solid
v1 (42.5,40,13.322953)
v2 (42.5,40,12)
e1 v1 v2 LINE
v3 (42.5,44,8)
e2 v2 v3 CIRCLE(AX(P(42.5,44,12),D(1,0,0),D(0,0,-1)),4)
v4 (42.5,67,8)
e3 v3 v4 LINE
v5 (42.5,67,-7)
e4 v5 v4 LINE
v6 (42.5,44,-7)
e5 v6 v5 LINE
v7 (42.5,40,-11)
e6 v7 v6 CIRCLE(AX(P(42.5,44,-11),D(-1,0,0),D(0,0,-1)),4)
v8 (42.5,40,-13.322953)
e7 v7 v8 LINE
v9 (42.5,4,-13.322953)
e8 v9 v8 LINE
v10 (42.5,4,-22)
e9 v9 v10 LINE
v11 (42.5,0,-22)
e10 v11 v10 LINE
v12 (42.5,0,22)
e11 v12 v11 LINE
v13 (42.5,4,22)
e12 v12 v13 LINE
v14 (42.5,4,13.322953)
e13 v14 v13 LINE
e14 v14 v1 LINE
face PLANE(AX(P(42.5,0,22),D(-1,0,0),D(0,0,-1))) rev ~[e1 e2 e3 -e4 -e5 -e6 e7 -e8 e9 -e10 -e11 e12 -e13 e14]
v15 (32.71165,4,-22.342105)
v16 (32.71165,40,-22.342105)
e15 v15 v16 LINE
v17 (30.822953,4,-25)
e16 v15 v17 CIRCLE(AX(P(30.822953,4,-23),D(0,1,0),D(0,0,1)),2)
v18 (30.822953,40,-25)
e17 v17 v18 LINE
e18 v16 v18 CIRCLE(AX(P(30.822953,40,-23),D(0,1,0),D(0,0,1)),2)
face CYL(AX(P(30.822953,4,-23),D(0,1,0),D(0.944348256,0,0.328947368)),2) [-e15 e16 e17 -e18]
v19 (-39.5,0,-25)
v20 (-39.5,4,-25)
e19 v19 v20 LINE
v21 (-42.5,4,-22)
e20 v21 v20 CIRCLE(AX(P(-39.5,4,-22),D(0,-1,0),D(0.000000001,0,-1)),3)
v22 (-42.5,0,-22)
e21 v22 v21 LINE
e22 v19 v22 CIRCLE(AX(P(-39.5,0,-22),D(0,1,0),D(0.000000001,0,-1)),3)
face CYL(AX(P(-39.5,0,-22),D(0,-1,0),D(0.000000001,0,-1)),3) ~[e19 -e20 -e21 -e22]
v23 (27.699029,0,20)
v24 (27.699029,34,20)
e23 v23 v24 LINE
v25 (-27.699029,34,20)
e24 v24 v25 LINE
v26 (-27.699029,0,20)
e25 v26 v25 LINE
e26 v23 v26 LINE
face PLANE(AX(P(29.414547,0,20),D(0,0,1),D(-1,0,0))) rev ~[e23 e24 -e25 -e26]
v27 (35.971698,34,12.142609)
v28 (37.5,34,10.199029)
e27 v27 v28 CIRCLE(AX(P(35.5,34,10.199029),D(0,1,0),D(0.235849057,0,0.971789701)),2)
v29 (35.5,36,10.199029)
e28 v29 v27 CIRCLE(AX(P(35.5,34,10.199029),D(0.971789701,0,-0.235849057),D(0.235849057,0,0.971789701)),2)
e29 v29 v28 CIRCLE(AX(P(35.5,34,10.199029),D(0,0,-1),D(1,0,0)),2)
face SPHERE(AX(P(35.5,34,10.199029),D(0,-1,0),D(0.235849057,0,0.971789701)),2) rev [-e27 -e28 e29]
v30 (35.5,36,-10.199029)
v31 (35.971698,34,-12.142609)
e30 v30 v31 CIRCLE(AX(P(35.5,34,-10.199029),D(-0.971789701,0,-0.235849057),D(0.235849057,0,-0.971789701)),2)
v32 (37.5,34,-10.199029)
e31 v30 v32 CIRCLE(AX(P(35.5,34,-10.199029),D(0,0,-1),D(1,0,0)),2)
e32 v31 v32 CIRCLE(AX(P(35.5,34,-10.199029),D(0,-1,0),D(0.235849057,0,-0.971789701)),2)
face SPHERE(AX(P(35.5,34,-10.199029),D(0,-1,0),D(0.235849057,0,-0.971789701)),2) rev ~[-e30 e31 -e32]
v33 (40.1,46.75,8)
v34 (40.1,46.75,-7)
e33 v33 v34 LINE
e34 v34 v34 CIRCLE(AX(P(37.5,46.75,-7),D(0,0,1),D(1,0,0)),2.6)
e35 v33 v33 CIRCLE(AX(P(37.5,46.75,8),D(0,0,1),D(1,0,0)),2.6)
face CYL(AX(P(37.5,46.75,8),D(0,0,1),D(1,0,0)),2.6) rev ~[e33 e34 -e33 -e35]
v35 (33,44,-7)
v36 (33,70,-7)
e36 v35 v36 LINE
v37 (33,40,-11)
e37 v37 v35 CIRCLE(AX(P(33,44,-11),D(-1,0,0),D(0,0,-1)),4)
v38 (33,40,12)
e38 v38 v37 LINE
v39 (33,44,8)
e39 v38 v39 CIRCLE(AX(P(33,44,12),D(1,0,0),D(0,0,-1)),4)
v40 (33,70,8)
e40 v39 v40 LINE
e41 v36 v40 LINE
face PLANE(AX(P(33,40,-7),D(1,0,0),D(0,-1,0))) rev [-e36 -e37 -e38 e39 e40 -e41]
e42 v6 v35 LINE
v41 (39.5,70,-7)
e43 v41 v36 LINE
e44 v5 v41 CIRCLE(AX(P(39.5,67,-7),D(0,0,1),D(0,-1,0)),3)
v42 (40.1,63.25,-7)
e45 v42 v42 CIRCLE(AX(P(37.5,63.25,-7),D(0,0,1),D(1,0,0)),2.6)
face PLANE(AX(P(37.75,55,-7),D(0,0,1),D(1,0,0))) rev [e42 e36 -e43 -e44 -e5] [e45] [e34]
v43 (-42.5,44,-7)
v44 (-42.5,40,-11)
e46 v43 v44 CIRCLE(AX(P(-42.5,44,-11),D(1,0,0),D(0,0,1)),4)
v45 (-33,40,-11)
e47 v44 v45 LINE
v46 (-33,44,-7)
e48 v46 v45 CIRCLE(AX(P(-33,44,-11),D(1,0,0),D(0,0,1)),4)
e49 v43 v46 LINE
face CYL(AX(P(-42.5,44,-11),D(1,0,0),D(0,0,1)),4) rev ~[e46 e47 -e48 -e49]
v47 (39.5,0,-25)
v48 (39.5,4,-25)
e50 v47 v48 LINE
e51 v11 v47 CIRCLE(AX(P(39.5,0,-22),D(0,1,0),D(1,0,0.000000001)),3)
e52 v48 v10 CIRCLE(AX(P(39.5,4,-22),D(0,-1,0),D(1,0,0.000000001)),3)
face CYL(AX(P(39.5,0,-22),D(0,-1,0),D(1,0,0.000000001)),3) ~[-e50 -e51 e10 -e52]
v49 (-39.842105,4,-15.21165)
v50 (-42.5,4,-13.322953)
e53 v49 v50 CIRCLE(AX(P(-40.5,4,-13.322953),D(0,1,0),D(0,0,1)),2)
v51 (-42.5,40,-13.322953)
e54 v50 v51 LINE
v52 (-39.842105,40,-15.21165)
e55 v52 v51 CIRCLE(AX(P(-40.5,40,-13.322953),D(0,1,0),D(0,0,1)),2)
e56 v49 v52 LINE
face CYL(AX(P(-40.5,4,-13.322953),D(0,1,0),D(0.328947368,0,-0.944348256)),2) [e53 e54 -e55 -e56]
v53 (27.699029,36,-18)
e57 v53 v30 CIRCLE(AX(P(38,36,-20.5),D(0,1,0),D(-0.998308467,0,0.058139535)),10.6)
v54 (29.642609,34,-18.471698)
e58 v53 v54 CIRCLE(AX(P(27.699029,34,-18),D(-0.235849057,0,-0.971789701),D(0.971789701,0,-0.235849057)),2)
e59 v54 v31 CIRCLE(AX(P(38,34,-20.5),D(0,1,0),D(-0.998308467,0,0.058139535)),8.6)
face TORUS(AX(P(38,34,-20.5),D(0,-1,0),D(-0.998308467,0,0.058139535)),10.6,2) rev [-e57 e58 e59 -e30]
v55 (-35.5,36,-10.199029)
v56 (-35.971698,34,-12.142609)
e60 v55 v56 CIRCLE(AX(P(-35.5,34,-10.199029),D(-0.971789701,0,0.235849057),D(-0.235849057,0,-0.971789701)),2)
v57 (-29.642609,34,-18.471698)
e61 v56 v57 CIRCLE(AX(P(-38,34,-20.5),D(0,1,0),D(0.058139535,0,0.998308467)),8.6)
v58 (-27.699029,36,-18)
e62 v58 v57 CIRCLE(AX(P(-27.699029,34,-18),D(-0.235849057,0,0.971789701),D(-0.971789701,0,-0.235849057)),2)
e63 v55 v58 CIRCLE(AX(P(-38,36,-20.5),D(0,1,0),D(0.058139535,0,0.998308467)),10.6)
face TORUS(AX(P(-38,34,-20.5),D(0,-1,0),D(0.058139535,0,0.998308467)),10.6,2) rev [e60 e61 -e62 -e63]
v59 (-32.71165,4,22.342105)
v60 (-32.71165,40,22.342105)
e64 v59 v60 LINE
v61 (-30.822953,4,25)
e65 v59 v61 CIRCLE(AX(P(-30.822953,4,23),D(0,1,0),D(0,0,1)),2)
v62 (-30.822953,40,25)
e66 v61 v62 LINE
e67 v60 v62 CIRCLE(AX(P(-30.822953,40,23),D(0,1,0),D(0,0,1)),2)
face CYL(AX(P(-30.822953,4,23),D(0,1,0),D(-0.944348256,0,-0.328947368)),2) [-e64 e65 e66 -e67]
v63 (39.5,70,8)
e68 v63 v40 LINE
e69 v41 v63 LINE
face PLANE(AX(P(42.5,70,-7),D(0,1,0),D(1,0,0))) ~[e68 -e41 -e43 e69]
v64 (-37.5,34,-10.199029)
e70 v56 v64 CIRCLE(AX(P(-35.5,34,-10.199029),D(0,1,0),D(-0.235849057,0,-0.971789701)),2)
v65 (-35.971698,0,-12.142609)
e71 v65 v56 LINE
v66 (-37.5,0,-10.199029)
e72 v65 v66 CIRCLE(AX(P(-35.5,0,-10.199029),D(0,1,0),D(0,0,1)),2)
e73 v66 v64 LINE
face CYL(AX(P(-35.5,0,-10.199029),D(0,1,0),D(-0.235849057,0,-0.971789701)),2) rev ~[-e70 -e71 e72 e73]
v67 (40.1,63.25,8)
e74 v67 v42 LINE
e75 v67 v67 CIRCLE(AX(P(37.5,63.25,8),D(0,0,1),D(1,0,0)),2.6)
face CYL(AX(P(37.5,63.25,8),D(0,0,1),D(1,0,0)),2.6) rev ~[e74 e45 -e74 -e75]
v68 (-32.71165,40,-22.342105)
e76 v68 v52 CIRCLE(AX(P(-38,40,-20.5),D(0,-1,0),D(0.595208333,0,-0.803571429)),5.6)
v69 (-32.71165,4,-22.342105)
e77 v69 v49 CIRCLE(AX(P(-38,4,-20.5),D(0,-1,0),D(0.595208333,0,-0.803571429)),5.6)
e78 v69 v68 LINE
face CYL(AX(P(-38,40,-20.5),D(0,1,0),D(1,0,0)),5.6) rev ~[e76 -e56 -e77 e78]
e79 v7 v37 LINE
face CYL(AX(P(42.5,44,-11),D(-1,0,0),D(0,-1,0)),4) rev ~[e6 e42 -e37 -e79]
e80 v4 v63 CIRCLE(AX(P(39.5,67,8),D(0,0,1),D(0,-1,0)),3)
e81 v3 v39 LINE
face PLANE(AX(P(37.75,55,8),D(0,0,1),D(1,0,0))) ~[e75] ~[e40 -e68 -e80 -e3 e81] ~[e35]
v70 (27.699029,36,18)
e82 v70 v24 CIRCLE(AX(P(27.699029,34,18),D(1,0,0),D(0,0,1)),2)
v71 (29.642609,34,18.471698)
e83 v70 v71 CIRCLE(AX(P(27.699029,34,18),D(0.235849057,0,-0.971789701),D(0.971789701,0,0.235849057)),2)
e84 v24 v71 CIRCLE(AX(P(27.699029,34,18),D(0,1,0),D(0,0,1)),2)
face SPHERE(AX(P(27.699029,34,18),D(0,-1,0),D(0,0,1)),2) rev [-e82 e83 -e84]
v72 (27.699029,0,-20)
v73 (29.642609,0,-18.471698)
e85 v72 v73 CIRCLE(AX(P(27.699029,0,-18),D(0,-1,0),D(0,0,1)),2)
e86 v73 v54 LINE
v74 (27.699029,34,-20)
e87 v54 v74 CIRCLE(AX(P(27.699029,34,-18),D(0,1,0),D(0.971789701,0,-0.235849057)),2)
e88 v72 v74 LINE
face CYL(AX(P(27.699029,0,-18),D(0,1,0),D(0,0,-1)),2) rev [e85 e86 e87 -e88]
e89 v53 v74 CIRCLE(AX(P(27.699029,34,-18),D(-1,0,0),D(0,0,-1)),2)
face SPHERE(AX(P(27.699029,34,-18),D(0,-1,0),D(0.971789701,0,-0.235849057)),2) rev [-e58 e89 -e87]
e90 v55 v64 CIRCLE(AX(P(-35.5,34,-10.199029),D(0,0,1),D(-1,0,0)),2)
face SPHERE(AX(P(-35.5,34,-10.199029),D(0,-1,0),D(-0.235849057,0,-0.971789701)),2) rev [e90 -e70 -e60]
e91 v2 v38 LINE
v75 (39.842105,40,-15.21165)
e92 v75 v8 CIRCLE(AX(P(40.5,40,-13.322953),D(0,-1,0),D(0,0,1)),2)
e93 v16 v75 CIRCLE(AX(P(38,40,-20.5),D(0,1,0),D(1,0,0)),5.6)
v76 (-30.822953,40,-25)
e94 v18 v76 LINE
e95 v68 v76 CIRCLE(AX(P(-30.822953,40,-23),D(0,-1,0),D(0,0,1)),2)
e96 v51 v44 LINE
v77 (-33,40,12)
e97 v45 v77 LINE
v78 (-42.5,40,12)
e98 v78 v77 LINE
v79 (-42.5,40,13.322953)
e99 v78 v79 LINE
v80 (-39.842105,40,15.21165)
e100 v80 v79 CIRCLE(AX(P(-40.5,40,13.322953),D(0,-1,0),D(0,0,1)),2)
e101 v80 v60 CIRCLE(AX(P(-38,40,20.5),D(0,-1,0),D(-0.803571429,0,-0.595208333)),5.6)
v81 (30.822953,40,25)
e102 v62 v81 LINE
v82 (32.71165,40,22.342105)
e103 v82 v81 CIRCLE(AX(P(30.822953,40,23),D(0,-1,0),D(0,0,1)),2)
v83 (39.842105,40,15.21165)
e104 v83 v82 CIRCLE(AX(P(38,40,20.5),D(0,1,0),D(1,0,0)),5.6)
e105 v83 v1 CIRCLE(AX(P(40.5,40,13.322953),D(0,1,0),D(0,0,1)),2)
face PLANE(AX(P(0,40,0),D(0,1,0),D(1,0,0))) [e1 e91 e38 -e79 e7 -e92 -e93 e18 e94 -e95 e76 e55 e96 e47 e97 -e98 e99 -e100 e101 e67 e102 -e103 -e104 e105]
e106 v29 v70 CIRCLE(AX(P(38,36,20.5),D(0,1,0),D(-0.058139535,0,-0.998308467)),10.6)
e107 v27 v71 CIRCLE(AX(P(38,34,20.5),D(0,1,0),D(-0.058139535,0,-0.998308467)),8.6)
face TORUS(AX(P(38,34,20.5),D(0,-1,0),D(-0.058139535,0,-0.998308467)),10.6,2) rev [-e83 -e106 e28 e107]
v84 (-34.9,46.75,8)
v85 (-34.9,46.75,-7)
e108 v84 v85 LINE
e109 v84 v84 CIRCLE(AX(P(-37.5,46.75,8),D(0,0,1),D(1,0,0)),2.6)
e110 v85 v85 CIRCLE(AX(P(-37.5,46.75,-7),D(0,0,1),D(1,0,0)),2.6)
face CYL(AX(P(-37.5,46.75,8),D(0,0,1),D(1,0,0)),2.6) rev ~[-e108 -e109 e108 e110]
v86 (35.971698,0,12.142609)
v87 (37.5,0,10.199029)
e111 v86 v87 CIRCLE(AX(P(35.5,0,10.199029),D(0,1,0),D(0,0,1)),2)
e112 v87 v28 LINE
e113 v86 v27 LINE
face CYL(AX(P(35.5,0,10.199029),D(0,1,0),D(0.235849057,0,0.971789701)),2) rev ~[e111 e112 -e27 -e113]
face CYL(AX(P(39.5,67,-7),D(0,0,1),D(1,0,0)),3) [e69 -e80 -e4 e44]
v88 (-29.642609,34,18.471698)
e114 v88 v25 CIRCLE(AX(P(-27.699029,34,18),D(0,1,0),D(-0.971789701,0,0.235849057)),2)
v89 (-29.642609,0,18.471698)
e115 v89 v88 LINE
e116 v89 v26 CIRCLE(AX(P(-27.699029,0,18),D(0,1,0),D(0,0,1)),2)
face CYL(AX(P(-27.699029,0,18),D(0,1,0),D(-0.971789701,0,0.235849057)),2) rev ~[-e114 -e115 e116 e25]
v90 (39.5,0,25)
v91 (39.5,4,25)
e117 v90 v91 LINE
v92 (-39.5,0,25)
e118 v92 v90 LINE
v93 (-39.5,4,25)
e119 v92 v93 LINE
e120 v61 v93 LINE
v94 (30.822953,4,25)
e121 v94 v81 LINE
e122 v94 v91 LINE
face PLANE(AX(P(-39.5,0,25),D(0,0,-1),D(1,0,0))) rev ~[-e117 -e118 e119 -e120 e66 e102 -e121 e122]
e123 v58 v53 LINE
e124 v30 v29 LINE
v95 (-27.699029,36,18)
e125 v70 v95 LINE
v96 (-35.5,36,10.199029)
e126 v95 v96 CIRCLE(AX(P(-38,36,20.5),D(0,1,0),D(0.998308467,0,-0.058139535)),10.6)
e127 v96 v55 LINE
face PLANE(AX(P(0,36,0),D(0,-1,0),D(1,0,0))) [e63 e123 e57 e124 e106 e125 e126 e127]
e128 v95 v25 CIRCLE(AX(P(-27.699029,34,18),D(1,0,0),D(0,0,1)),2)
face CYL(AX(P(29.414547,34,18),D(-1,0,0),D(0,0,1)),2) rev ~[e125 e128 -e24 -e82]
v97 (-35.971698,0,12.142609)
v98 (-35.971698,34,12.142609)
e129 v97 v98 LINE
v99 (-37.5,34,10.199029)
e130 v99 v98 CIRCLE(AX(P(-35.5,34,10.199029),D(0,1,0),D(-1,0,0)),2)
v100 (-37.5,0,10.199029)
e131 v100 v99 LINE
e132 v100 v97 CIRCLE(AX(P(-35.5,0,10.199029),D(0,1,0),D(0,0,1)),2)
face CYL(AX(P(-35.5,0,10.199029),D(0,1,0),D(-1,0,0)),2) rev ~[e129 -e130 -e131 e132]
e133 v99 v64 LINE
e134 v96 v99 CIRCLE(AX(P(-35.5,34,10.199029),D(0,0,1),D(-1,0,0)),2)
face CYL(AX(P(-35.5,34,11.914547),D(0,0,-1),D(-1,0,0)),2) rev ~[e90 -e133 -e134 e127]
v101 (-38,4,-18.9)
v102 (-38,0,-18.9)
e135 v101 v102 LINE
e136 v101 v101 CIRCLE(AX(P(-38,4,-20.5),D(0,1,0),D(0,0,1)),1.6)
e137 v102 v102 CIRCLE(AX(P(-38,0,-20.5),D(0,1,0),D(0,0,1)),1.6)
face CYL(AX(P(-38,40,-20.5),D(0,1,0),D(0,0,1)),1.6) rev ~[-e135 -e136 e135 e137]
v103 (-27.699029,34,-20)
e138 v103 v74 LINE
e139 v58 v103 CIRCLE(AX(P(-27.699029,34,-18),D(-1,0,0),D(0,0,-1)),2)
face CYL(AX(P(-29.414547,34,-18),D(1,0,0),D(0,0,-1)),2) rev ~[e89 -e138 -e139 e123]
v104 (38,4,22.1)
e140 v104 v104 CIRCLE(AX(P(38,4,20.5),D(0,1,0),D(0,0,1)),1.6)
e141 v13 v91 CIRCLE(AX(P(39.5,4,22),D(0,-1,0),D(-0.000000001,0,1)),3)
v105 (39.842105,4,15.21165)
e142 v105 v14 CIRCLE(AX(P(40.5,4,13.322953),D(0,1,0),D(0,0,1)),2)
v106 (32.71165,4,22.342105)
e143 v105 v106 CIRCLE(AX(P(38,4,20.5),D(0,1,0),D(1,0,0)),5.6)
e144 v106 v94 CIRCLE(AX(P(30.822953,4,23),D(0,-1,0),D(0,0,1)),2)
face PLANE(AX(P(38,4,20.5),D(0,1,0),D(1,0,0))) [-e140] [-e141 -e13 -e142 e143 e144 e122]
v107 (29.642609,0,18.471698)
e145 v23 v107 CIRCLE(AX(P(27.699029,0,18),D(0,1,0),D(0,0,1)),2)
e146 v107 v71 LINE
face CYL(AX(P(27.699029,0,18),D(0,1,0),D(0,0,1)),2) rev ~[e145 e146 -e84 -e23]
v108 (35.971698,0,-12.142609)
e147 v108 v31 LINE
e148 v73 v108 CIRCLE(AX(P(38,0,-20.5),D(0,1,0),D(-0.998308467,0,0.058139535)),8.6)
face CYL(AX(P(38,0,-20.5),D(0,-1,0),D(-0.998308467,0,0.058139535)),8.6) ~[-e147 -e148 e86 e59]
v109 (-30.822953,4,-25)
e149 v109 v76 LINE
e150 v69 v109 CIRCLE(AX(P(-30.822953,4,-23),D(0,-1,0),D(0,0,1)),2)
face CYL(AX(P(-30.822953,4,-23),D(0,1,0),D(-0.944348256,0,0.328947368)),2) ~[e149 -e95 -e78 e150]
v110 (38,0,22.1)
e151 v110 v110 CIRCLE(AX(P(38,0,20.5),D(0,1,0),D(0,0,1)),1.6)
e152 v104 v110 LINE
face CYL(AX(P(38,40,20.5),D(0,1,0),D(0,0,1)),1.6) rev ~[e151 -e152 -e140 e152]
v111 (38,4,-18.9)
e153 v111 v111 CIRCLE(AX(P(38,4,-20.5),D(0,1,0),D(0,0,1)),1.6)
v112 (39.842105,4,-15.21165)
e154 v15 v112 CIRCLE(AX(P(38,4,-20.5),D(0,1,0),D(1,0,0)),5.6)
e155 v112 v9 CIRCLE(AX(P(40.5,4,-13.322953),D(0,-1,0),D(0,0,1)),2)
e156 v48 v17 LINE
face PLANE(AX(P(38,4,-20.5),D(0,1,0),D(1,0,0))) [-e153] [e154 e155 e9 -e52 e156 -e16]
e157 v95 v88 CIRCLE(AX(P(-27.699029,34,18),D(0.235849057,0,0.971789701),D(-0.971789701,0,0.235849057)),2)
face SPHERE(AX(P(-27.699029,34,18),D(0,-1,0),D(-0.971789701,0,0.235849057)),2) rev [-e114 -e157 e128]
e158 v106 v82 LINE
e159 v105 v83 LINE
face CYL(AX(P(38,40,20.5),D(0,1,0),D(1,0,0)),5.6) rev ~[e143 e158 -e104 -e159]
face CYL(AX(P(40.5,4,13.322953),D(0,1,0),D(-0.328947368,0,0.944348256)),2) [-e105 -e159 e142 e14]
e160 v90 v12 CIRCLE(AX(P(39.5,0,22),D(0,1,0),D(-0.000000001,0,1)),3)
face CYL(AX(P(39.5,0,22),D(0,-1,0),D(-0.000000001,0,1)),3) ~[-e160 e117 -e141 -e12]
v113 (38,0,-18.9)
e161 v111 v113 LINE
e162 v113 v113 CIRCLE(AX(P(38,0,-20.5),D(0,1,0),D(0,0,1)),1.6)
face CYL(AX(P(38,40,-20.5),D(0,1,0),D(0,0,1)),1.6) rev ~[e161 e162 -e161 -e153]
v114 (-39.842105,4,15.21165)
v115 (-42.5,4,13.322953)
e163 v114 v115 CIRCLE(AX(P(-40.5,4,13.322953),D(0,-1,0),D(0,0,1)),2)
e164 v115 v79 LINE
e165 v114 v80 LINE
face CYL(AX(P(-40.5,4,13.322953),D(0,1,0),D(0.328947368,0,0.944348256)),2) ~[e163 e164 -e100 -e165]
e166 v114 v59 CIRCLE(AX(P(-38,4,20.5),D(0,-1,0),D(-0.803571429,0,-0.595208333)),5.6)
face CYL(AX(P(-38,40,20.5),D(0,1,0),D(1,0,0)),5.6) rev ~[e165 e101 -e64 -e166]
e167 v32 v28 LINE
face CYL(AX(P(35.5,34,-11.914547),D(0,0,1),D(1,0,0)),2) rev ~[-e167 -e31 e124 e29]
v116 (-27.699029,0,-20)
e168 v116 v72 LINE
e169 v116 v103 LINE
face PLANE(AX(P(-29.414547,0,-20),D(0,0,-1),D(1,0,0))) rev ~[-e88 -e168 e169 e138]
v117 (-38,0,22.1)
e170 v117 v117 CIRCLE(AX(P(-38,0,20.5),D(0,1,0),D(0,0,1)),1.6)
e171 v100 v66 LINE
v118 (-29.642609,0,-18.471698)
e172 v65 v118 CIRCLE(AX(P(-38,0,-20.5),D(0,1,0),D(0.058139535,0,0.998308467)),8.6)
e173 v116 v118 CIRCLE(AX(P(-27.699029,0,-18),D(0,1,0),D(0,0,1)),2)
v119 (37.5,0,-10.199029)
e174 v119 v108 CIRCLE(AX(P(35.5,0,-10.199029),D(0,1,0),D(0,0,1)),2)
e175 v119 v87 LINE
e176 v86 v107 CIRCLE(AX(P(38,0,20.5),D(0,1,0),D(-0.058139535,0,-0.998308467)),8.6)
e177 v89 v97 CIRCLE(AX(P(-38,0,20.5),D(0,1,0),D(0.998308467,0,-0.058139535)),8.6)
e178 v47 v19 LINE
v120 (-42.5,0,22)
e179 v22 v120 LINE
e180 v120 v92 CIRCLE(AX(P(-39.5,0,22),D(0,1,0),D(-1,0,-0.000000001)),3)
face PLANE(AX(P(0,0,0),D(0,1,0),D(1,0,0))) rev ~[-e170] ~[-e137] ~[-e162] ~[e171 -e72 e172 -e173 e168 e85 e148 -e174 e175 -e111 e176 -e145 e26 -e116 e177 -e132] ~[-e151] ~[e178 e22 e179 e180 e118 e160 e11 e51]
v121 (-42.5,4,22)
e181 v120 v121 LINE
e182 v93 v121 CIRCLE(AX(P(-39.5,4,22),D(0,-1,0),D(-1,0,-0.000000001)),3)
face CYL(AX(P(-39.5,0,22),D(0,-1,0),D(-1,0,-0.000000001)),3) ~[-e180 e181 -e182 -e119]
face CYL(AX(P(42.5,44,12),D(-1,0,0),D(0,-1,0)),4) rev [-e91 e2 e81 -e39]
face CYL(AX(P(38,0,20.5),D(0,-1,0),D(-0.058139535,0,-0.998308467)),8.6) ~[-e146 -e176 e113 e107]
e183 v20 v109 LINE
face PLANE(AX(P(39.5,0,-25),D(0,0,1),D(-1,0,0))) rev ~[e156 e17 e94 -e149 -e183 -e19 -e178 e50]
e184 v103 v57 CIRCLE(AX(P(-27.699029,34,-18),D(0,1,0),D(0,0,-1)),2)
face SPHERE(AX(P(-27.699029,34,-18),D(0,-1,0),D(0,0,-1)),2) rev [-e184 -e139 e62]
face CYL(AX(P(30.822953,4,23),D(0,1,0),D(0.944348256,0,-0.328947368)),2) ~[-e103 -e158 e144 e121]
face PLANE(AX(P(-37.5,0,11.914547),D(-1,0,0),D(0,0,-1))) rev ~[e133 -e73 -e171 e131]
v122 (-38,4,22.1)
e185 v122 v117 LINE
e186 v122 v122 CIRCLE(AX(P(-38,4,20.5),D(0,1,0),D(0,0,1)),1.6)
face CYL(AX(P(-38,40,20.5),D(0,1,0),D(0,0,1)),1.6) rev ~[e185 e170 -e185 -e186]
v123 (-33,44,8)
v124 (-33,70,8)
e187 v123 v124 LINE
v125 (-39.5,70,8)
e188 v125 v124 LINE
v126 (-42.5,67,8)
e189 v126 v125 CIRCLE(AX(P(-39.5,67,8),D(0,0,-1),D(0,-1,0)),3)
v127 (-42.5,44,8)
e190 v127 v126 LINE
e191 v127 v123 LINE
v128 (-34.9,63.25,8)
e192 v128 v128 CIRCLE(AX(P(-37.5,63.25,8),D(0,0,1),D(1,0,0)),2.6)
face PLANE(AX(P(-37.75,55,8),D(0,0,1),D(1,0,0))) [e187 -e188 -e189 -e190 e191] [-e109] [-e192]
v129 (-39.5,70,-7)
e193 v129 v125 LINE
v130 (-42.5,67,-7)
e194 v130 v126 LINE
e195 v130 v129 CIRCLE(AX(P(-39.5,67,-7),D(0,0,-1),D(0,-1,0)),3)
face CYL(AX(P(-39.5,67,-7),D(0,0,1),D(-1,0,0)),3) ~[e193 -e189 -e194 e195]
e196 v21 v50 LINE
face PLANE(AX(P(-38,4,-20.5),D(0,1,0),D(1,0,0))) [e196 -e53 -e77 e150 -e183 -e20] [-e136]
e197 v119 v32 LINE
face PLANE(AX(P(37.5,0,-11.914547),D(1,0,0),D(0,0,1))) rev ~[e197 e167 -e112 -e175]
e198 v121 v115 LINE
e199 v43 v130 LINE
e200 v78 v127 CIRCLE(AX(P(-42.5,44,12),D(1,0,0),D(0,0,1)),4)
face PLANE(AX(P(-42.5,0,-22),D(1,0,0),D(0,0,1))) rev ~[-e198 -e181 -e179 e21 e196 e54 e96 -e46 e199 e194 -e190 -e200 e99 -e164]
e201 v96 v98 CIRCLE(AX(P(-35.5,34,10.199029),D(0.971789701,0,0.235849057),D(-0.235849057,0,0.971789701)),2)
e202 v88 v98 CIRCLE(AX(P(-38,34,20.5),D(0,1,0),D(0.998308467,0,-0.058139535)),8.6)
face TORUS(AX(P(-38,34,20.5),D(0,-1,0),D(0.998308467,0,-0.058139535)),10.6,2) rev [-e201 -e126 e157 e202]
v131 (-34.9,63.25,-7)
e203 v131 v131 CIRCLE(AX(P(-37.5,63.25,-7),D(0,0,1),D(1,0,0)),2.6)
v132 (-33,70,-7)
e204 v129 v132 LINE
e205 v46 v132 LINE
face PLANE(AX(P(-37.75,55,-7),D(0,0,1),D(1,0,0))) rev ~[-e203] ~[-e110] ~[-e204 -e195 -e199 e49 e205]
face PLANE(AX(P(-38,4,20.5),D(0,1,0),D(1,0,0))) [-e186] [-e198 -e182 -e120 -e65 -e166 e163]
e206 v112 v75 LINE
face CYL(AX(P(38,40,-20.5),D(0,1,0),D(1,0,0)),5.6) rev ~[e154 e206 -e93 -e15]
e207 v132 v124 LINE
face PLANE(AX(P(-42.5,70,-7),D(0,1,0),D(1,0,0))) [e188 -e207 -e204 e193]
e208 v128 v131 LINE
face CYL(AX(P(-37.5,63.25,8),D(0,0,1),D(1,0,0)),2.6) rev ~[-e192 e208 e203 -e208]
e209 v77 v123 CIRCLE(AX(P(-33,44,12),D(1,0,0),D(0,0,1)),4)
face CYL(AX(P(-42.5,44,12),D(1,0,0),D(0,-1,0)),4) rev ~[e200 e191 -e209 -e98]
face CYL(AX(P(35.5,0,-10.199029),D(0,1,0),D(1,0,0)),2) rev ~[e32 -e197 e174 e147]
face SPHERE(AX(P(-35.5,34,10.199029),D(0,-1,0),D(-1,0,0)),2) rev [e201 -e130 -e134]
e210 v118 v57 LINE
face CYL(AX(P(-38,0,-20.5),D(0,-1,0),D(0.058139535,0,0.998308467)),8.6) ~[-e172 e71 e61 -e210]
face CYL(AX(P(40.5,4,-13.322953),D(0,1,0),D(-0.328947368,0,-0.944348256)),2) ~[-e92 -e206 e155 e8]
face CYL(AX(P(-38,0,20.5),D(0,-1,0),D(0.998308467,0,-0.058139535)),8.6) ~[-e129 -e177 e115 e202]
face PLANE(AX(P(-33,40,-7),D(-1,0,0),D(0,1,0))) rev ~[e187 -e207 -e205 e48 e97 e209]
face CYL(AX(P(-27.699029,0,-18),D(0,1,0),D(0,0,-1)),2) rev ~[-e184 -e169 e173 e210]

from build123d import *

# Parameters (mm, degrees)
EXTRUDE_1_DEPTH     = 40
SKETCH_2_W          = 9.5
SKETCH_2_H          = 30
EXTRUDE_2_DEPTH     = 15
SKETCH_3_R          = 2.6
CUT_EXTRUDE_1_DEPTH = 89.290712988
FILLET_1_R          = 3
FILLET_2_R          = 4
SKETCH_4_R          = 1.6
CUT_EXTRUDE_2_DEPTH = 64.492125496
CUT_EXTRUDE_3_DEPTH = 36
FILLET_3_R          = 2
SKETCH_7_R          = 5.6
CUT_EXTRUDE_4_DEPTH = 36
FILLET_4_R          = 2


with BuildPart() as part:
    # 草图1 → 凸台-拉伸1 (new body)
    with BuildSketch(Plane(origin=(0, 0, 0), x_dir=(1, 0, 0), z_dir=(0, 1, 0))):
        with BuildLine():
            Line((-39.5, -25), (39.5, -25))
            ThreePointArc((39.5, -25), (41.621320344, -24.121320344), (42.5, -22))
            Line((42.5, -22), (42.5, 22))
            ThreePointArc((42.5, 22), (41.621320344, 24.121320344), (39.5, 25))
            Line((39.5, 25), (-39.5, 25))
            ThreePointArc((-39.5, 25), (-41.621320344, 24.121320344), (-42.5, 22))
            Line((-42.5, 22), (-42.5, -22))
            ThreePointArc((-42.5, -22), (-41.621320344, -24.121320344), (-39.5, -25))
        make_face()
    extrude(amount=EXTRUDE_1_DEPTH)

    # 草图2 → 凸台-拉伸2 (add)
    with BuildSketch(Plane.XY.offset(-7)):
        with Locations((-37.75, 55)):
            Rectangle(SKETCH_2_W, SKETCH_2_H)
    extrude_2 = extrude(amount=EXTRUDE_2_DEPTH)

    # 镜向1: 凸台-拉伸2 across plane
    add(extrude_2.mirror(Plane(origin=(0, 0, 0), x_dir=(0, 0, 1), z_dir=(1, 0, 0))))

    # 草图3 → 切除-拉伸1 (cut, through all)
    with BuildSketch(Plane.XY.offset(8)):
        with Locations((37.5, 63.25)):
            Circle(SKETCH_3_R)
        with Locations((37.5, 46.75)):
            Circle(SKETCH_3_R)
        with Locations((-37.5, 63.25)):
            Circle(SKETCH_3_R)
        with Locations((-37.5, 46.75)):
            Circle(SKETCH_3_R)
    extrude(amount=-CUT_EXTRUDE_1_DEPTH, mode=Mode.SUBTRACT)

    # 圆角1
    fillet_1_edges = [part.edges().sort_by_distance(p)[0] for p in [
        (-42.5, 70, 0.5),
        (42.5, 70, 0.5),
    ]]
    fillet(fillet_1_edges, radius=FILLET_1_R)

    # 圆角2
    fillet_2_edges = [part.edges().sort_by_distance(p)[0] for p in [
        (-37.75, 40, -7),
        (-37.75, 40, 8),
        (37.75, 40, 8),
        (37.75, 40, -7),
    ]]
    fillet(fillet_2_edges, radius=FILLET_2_R)

    # 草图4 → 切除-拉伸2 (cut, through all)
    with BuildSketch(Plane(origin=(0, 40, 0), x_dir=(1, 0, 0), z_dir=(0, 1, 0))):
        with Locations(Location((-38, 20.5, 0), (0, 0, 270))):
            Circle(SKETCH_4_R)
        with Locations(Location((38, 20.5, 0), (0, 0, 270))):
            Circle(SKETCH_4_R)
        with Locations(Location((38, -20.5, 0), (0, 0, 270))):
            Circle(SKETCH_4_R)
        with Locations(Location((-38, -20.5, 0), (0, 0, 270))):
            Circle(SKETCH_4_R)
    extrude(amount=-CUT_EXTRUDE_2_DEPTH, mode=Mode.SUBTRACT)

    # 草图5 → 切除-拉伸3 (cut)
    with BuildSketch(Plane.XZ):
        with BuildLine():
            ThreePointArc((29.414547187, -20), (31.918881682, -14.418881682), (37.5, -11.914547187))
            Line((37.5, -11.914547187), (37.5, 11.914547187))
            ThreePointArc((37.5, 11.914547187), (31.918881682, 14.418881682), (29.414547187, 20))
            Line((29.414547187, 20), (-29.414547187, 20))
            ThreePointArc((-29.414547187, 20), (-31.918881682, 14.418881682), (-37.5, 11.914547187))
            Line((-37.5, 11.914547187), (-37.5, -11.914547187))
            ThreePointArc((-37.5, -11.914547187), (-31.918881682, -14.418881682), (-29.414547187, -20))
            Line((-29.414547187, -20), (29.414547187, -20))
        make_face()
    extrude(amount=-CUT_EXTRUDE_3_DEPTH, mode=Mode.SUBTRACT)

    # 圆角3
    fillet_3_edges = [part.edges().sort_by_distance(p)[0] for p in [
        (31.918881682, 36, -14.418881682),
        (-31.918881682, 36, -14.418881682),
        (-31.918881682, 36, 14.418881682),
        (31.918881682, 36, 14.418881682),
        (37.5, 36, 0),
        (37.5, 18, 11.914547187),
        (29.414547187, 18, 20),
        (0, 36, 20),
        (-29.414547187, 18, 20),
        (-37.5, 18, 11.914547187),
        (-37.5, 36, 0),
        (-37.5, 18, -11.914547187),
        (-29.414547187, 18, -20),
        (0, 36, -20),
        (29.414547187, 18, -20),
        (37.5, 18, -11.914547187),
    ]]
    fillet(fillet_3_edges, radius=FILLET_3_R)

    # 草图7 → 切除-拉伸4 (cut)
    with BuildSketch(Plane(origin=(0, 40, 0), x_dir=(1, 0, 0), z_dir=(0, 1, 0))):
        with Locations((-38, 20.5)):
            Circle(SKETCH_7_R)
        with Locations((38, 20.5)):
            Circle(SKETCH_7_R)
        with Locations((-38, -20.5)):
            Circle(SKETCH_7_R)
        with Locations((38, -20.5)):
            Circle(SKETCH_7_R)
    extrude(amount=-CUT_EXTRUDE_4_DEPTH, mode=Mode.SUBTRACT)

    # 圆角4
    fillet_4_edges = [part.edges().sort_by_distance(p)[0] for p in [
        (-34.666833338, 22, 25),
        (34.666833338, 22, 25),
        (-42.5, 22, -17.166833338),
        (34.666833338, 22, -25),
        (-34.666833338, 22, -25),
        (42.5, 22, -17.166833338),
        (42.5, 22, 17.166833338),
        (-42.5, 22, 17.166833338),
    ]]
    fillet(fillet_4_edges, radius=FILLET_4_R)


solid = part.part
